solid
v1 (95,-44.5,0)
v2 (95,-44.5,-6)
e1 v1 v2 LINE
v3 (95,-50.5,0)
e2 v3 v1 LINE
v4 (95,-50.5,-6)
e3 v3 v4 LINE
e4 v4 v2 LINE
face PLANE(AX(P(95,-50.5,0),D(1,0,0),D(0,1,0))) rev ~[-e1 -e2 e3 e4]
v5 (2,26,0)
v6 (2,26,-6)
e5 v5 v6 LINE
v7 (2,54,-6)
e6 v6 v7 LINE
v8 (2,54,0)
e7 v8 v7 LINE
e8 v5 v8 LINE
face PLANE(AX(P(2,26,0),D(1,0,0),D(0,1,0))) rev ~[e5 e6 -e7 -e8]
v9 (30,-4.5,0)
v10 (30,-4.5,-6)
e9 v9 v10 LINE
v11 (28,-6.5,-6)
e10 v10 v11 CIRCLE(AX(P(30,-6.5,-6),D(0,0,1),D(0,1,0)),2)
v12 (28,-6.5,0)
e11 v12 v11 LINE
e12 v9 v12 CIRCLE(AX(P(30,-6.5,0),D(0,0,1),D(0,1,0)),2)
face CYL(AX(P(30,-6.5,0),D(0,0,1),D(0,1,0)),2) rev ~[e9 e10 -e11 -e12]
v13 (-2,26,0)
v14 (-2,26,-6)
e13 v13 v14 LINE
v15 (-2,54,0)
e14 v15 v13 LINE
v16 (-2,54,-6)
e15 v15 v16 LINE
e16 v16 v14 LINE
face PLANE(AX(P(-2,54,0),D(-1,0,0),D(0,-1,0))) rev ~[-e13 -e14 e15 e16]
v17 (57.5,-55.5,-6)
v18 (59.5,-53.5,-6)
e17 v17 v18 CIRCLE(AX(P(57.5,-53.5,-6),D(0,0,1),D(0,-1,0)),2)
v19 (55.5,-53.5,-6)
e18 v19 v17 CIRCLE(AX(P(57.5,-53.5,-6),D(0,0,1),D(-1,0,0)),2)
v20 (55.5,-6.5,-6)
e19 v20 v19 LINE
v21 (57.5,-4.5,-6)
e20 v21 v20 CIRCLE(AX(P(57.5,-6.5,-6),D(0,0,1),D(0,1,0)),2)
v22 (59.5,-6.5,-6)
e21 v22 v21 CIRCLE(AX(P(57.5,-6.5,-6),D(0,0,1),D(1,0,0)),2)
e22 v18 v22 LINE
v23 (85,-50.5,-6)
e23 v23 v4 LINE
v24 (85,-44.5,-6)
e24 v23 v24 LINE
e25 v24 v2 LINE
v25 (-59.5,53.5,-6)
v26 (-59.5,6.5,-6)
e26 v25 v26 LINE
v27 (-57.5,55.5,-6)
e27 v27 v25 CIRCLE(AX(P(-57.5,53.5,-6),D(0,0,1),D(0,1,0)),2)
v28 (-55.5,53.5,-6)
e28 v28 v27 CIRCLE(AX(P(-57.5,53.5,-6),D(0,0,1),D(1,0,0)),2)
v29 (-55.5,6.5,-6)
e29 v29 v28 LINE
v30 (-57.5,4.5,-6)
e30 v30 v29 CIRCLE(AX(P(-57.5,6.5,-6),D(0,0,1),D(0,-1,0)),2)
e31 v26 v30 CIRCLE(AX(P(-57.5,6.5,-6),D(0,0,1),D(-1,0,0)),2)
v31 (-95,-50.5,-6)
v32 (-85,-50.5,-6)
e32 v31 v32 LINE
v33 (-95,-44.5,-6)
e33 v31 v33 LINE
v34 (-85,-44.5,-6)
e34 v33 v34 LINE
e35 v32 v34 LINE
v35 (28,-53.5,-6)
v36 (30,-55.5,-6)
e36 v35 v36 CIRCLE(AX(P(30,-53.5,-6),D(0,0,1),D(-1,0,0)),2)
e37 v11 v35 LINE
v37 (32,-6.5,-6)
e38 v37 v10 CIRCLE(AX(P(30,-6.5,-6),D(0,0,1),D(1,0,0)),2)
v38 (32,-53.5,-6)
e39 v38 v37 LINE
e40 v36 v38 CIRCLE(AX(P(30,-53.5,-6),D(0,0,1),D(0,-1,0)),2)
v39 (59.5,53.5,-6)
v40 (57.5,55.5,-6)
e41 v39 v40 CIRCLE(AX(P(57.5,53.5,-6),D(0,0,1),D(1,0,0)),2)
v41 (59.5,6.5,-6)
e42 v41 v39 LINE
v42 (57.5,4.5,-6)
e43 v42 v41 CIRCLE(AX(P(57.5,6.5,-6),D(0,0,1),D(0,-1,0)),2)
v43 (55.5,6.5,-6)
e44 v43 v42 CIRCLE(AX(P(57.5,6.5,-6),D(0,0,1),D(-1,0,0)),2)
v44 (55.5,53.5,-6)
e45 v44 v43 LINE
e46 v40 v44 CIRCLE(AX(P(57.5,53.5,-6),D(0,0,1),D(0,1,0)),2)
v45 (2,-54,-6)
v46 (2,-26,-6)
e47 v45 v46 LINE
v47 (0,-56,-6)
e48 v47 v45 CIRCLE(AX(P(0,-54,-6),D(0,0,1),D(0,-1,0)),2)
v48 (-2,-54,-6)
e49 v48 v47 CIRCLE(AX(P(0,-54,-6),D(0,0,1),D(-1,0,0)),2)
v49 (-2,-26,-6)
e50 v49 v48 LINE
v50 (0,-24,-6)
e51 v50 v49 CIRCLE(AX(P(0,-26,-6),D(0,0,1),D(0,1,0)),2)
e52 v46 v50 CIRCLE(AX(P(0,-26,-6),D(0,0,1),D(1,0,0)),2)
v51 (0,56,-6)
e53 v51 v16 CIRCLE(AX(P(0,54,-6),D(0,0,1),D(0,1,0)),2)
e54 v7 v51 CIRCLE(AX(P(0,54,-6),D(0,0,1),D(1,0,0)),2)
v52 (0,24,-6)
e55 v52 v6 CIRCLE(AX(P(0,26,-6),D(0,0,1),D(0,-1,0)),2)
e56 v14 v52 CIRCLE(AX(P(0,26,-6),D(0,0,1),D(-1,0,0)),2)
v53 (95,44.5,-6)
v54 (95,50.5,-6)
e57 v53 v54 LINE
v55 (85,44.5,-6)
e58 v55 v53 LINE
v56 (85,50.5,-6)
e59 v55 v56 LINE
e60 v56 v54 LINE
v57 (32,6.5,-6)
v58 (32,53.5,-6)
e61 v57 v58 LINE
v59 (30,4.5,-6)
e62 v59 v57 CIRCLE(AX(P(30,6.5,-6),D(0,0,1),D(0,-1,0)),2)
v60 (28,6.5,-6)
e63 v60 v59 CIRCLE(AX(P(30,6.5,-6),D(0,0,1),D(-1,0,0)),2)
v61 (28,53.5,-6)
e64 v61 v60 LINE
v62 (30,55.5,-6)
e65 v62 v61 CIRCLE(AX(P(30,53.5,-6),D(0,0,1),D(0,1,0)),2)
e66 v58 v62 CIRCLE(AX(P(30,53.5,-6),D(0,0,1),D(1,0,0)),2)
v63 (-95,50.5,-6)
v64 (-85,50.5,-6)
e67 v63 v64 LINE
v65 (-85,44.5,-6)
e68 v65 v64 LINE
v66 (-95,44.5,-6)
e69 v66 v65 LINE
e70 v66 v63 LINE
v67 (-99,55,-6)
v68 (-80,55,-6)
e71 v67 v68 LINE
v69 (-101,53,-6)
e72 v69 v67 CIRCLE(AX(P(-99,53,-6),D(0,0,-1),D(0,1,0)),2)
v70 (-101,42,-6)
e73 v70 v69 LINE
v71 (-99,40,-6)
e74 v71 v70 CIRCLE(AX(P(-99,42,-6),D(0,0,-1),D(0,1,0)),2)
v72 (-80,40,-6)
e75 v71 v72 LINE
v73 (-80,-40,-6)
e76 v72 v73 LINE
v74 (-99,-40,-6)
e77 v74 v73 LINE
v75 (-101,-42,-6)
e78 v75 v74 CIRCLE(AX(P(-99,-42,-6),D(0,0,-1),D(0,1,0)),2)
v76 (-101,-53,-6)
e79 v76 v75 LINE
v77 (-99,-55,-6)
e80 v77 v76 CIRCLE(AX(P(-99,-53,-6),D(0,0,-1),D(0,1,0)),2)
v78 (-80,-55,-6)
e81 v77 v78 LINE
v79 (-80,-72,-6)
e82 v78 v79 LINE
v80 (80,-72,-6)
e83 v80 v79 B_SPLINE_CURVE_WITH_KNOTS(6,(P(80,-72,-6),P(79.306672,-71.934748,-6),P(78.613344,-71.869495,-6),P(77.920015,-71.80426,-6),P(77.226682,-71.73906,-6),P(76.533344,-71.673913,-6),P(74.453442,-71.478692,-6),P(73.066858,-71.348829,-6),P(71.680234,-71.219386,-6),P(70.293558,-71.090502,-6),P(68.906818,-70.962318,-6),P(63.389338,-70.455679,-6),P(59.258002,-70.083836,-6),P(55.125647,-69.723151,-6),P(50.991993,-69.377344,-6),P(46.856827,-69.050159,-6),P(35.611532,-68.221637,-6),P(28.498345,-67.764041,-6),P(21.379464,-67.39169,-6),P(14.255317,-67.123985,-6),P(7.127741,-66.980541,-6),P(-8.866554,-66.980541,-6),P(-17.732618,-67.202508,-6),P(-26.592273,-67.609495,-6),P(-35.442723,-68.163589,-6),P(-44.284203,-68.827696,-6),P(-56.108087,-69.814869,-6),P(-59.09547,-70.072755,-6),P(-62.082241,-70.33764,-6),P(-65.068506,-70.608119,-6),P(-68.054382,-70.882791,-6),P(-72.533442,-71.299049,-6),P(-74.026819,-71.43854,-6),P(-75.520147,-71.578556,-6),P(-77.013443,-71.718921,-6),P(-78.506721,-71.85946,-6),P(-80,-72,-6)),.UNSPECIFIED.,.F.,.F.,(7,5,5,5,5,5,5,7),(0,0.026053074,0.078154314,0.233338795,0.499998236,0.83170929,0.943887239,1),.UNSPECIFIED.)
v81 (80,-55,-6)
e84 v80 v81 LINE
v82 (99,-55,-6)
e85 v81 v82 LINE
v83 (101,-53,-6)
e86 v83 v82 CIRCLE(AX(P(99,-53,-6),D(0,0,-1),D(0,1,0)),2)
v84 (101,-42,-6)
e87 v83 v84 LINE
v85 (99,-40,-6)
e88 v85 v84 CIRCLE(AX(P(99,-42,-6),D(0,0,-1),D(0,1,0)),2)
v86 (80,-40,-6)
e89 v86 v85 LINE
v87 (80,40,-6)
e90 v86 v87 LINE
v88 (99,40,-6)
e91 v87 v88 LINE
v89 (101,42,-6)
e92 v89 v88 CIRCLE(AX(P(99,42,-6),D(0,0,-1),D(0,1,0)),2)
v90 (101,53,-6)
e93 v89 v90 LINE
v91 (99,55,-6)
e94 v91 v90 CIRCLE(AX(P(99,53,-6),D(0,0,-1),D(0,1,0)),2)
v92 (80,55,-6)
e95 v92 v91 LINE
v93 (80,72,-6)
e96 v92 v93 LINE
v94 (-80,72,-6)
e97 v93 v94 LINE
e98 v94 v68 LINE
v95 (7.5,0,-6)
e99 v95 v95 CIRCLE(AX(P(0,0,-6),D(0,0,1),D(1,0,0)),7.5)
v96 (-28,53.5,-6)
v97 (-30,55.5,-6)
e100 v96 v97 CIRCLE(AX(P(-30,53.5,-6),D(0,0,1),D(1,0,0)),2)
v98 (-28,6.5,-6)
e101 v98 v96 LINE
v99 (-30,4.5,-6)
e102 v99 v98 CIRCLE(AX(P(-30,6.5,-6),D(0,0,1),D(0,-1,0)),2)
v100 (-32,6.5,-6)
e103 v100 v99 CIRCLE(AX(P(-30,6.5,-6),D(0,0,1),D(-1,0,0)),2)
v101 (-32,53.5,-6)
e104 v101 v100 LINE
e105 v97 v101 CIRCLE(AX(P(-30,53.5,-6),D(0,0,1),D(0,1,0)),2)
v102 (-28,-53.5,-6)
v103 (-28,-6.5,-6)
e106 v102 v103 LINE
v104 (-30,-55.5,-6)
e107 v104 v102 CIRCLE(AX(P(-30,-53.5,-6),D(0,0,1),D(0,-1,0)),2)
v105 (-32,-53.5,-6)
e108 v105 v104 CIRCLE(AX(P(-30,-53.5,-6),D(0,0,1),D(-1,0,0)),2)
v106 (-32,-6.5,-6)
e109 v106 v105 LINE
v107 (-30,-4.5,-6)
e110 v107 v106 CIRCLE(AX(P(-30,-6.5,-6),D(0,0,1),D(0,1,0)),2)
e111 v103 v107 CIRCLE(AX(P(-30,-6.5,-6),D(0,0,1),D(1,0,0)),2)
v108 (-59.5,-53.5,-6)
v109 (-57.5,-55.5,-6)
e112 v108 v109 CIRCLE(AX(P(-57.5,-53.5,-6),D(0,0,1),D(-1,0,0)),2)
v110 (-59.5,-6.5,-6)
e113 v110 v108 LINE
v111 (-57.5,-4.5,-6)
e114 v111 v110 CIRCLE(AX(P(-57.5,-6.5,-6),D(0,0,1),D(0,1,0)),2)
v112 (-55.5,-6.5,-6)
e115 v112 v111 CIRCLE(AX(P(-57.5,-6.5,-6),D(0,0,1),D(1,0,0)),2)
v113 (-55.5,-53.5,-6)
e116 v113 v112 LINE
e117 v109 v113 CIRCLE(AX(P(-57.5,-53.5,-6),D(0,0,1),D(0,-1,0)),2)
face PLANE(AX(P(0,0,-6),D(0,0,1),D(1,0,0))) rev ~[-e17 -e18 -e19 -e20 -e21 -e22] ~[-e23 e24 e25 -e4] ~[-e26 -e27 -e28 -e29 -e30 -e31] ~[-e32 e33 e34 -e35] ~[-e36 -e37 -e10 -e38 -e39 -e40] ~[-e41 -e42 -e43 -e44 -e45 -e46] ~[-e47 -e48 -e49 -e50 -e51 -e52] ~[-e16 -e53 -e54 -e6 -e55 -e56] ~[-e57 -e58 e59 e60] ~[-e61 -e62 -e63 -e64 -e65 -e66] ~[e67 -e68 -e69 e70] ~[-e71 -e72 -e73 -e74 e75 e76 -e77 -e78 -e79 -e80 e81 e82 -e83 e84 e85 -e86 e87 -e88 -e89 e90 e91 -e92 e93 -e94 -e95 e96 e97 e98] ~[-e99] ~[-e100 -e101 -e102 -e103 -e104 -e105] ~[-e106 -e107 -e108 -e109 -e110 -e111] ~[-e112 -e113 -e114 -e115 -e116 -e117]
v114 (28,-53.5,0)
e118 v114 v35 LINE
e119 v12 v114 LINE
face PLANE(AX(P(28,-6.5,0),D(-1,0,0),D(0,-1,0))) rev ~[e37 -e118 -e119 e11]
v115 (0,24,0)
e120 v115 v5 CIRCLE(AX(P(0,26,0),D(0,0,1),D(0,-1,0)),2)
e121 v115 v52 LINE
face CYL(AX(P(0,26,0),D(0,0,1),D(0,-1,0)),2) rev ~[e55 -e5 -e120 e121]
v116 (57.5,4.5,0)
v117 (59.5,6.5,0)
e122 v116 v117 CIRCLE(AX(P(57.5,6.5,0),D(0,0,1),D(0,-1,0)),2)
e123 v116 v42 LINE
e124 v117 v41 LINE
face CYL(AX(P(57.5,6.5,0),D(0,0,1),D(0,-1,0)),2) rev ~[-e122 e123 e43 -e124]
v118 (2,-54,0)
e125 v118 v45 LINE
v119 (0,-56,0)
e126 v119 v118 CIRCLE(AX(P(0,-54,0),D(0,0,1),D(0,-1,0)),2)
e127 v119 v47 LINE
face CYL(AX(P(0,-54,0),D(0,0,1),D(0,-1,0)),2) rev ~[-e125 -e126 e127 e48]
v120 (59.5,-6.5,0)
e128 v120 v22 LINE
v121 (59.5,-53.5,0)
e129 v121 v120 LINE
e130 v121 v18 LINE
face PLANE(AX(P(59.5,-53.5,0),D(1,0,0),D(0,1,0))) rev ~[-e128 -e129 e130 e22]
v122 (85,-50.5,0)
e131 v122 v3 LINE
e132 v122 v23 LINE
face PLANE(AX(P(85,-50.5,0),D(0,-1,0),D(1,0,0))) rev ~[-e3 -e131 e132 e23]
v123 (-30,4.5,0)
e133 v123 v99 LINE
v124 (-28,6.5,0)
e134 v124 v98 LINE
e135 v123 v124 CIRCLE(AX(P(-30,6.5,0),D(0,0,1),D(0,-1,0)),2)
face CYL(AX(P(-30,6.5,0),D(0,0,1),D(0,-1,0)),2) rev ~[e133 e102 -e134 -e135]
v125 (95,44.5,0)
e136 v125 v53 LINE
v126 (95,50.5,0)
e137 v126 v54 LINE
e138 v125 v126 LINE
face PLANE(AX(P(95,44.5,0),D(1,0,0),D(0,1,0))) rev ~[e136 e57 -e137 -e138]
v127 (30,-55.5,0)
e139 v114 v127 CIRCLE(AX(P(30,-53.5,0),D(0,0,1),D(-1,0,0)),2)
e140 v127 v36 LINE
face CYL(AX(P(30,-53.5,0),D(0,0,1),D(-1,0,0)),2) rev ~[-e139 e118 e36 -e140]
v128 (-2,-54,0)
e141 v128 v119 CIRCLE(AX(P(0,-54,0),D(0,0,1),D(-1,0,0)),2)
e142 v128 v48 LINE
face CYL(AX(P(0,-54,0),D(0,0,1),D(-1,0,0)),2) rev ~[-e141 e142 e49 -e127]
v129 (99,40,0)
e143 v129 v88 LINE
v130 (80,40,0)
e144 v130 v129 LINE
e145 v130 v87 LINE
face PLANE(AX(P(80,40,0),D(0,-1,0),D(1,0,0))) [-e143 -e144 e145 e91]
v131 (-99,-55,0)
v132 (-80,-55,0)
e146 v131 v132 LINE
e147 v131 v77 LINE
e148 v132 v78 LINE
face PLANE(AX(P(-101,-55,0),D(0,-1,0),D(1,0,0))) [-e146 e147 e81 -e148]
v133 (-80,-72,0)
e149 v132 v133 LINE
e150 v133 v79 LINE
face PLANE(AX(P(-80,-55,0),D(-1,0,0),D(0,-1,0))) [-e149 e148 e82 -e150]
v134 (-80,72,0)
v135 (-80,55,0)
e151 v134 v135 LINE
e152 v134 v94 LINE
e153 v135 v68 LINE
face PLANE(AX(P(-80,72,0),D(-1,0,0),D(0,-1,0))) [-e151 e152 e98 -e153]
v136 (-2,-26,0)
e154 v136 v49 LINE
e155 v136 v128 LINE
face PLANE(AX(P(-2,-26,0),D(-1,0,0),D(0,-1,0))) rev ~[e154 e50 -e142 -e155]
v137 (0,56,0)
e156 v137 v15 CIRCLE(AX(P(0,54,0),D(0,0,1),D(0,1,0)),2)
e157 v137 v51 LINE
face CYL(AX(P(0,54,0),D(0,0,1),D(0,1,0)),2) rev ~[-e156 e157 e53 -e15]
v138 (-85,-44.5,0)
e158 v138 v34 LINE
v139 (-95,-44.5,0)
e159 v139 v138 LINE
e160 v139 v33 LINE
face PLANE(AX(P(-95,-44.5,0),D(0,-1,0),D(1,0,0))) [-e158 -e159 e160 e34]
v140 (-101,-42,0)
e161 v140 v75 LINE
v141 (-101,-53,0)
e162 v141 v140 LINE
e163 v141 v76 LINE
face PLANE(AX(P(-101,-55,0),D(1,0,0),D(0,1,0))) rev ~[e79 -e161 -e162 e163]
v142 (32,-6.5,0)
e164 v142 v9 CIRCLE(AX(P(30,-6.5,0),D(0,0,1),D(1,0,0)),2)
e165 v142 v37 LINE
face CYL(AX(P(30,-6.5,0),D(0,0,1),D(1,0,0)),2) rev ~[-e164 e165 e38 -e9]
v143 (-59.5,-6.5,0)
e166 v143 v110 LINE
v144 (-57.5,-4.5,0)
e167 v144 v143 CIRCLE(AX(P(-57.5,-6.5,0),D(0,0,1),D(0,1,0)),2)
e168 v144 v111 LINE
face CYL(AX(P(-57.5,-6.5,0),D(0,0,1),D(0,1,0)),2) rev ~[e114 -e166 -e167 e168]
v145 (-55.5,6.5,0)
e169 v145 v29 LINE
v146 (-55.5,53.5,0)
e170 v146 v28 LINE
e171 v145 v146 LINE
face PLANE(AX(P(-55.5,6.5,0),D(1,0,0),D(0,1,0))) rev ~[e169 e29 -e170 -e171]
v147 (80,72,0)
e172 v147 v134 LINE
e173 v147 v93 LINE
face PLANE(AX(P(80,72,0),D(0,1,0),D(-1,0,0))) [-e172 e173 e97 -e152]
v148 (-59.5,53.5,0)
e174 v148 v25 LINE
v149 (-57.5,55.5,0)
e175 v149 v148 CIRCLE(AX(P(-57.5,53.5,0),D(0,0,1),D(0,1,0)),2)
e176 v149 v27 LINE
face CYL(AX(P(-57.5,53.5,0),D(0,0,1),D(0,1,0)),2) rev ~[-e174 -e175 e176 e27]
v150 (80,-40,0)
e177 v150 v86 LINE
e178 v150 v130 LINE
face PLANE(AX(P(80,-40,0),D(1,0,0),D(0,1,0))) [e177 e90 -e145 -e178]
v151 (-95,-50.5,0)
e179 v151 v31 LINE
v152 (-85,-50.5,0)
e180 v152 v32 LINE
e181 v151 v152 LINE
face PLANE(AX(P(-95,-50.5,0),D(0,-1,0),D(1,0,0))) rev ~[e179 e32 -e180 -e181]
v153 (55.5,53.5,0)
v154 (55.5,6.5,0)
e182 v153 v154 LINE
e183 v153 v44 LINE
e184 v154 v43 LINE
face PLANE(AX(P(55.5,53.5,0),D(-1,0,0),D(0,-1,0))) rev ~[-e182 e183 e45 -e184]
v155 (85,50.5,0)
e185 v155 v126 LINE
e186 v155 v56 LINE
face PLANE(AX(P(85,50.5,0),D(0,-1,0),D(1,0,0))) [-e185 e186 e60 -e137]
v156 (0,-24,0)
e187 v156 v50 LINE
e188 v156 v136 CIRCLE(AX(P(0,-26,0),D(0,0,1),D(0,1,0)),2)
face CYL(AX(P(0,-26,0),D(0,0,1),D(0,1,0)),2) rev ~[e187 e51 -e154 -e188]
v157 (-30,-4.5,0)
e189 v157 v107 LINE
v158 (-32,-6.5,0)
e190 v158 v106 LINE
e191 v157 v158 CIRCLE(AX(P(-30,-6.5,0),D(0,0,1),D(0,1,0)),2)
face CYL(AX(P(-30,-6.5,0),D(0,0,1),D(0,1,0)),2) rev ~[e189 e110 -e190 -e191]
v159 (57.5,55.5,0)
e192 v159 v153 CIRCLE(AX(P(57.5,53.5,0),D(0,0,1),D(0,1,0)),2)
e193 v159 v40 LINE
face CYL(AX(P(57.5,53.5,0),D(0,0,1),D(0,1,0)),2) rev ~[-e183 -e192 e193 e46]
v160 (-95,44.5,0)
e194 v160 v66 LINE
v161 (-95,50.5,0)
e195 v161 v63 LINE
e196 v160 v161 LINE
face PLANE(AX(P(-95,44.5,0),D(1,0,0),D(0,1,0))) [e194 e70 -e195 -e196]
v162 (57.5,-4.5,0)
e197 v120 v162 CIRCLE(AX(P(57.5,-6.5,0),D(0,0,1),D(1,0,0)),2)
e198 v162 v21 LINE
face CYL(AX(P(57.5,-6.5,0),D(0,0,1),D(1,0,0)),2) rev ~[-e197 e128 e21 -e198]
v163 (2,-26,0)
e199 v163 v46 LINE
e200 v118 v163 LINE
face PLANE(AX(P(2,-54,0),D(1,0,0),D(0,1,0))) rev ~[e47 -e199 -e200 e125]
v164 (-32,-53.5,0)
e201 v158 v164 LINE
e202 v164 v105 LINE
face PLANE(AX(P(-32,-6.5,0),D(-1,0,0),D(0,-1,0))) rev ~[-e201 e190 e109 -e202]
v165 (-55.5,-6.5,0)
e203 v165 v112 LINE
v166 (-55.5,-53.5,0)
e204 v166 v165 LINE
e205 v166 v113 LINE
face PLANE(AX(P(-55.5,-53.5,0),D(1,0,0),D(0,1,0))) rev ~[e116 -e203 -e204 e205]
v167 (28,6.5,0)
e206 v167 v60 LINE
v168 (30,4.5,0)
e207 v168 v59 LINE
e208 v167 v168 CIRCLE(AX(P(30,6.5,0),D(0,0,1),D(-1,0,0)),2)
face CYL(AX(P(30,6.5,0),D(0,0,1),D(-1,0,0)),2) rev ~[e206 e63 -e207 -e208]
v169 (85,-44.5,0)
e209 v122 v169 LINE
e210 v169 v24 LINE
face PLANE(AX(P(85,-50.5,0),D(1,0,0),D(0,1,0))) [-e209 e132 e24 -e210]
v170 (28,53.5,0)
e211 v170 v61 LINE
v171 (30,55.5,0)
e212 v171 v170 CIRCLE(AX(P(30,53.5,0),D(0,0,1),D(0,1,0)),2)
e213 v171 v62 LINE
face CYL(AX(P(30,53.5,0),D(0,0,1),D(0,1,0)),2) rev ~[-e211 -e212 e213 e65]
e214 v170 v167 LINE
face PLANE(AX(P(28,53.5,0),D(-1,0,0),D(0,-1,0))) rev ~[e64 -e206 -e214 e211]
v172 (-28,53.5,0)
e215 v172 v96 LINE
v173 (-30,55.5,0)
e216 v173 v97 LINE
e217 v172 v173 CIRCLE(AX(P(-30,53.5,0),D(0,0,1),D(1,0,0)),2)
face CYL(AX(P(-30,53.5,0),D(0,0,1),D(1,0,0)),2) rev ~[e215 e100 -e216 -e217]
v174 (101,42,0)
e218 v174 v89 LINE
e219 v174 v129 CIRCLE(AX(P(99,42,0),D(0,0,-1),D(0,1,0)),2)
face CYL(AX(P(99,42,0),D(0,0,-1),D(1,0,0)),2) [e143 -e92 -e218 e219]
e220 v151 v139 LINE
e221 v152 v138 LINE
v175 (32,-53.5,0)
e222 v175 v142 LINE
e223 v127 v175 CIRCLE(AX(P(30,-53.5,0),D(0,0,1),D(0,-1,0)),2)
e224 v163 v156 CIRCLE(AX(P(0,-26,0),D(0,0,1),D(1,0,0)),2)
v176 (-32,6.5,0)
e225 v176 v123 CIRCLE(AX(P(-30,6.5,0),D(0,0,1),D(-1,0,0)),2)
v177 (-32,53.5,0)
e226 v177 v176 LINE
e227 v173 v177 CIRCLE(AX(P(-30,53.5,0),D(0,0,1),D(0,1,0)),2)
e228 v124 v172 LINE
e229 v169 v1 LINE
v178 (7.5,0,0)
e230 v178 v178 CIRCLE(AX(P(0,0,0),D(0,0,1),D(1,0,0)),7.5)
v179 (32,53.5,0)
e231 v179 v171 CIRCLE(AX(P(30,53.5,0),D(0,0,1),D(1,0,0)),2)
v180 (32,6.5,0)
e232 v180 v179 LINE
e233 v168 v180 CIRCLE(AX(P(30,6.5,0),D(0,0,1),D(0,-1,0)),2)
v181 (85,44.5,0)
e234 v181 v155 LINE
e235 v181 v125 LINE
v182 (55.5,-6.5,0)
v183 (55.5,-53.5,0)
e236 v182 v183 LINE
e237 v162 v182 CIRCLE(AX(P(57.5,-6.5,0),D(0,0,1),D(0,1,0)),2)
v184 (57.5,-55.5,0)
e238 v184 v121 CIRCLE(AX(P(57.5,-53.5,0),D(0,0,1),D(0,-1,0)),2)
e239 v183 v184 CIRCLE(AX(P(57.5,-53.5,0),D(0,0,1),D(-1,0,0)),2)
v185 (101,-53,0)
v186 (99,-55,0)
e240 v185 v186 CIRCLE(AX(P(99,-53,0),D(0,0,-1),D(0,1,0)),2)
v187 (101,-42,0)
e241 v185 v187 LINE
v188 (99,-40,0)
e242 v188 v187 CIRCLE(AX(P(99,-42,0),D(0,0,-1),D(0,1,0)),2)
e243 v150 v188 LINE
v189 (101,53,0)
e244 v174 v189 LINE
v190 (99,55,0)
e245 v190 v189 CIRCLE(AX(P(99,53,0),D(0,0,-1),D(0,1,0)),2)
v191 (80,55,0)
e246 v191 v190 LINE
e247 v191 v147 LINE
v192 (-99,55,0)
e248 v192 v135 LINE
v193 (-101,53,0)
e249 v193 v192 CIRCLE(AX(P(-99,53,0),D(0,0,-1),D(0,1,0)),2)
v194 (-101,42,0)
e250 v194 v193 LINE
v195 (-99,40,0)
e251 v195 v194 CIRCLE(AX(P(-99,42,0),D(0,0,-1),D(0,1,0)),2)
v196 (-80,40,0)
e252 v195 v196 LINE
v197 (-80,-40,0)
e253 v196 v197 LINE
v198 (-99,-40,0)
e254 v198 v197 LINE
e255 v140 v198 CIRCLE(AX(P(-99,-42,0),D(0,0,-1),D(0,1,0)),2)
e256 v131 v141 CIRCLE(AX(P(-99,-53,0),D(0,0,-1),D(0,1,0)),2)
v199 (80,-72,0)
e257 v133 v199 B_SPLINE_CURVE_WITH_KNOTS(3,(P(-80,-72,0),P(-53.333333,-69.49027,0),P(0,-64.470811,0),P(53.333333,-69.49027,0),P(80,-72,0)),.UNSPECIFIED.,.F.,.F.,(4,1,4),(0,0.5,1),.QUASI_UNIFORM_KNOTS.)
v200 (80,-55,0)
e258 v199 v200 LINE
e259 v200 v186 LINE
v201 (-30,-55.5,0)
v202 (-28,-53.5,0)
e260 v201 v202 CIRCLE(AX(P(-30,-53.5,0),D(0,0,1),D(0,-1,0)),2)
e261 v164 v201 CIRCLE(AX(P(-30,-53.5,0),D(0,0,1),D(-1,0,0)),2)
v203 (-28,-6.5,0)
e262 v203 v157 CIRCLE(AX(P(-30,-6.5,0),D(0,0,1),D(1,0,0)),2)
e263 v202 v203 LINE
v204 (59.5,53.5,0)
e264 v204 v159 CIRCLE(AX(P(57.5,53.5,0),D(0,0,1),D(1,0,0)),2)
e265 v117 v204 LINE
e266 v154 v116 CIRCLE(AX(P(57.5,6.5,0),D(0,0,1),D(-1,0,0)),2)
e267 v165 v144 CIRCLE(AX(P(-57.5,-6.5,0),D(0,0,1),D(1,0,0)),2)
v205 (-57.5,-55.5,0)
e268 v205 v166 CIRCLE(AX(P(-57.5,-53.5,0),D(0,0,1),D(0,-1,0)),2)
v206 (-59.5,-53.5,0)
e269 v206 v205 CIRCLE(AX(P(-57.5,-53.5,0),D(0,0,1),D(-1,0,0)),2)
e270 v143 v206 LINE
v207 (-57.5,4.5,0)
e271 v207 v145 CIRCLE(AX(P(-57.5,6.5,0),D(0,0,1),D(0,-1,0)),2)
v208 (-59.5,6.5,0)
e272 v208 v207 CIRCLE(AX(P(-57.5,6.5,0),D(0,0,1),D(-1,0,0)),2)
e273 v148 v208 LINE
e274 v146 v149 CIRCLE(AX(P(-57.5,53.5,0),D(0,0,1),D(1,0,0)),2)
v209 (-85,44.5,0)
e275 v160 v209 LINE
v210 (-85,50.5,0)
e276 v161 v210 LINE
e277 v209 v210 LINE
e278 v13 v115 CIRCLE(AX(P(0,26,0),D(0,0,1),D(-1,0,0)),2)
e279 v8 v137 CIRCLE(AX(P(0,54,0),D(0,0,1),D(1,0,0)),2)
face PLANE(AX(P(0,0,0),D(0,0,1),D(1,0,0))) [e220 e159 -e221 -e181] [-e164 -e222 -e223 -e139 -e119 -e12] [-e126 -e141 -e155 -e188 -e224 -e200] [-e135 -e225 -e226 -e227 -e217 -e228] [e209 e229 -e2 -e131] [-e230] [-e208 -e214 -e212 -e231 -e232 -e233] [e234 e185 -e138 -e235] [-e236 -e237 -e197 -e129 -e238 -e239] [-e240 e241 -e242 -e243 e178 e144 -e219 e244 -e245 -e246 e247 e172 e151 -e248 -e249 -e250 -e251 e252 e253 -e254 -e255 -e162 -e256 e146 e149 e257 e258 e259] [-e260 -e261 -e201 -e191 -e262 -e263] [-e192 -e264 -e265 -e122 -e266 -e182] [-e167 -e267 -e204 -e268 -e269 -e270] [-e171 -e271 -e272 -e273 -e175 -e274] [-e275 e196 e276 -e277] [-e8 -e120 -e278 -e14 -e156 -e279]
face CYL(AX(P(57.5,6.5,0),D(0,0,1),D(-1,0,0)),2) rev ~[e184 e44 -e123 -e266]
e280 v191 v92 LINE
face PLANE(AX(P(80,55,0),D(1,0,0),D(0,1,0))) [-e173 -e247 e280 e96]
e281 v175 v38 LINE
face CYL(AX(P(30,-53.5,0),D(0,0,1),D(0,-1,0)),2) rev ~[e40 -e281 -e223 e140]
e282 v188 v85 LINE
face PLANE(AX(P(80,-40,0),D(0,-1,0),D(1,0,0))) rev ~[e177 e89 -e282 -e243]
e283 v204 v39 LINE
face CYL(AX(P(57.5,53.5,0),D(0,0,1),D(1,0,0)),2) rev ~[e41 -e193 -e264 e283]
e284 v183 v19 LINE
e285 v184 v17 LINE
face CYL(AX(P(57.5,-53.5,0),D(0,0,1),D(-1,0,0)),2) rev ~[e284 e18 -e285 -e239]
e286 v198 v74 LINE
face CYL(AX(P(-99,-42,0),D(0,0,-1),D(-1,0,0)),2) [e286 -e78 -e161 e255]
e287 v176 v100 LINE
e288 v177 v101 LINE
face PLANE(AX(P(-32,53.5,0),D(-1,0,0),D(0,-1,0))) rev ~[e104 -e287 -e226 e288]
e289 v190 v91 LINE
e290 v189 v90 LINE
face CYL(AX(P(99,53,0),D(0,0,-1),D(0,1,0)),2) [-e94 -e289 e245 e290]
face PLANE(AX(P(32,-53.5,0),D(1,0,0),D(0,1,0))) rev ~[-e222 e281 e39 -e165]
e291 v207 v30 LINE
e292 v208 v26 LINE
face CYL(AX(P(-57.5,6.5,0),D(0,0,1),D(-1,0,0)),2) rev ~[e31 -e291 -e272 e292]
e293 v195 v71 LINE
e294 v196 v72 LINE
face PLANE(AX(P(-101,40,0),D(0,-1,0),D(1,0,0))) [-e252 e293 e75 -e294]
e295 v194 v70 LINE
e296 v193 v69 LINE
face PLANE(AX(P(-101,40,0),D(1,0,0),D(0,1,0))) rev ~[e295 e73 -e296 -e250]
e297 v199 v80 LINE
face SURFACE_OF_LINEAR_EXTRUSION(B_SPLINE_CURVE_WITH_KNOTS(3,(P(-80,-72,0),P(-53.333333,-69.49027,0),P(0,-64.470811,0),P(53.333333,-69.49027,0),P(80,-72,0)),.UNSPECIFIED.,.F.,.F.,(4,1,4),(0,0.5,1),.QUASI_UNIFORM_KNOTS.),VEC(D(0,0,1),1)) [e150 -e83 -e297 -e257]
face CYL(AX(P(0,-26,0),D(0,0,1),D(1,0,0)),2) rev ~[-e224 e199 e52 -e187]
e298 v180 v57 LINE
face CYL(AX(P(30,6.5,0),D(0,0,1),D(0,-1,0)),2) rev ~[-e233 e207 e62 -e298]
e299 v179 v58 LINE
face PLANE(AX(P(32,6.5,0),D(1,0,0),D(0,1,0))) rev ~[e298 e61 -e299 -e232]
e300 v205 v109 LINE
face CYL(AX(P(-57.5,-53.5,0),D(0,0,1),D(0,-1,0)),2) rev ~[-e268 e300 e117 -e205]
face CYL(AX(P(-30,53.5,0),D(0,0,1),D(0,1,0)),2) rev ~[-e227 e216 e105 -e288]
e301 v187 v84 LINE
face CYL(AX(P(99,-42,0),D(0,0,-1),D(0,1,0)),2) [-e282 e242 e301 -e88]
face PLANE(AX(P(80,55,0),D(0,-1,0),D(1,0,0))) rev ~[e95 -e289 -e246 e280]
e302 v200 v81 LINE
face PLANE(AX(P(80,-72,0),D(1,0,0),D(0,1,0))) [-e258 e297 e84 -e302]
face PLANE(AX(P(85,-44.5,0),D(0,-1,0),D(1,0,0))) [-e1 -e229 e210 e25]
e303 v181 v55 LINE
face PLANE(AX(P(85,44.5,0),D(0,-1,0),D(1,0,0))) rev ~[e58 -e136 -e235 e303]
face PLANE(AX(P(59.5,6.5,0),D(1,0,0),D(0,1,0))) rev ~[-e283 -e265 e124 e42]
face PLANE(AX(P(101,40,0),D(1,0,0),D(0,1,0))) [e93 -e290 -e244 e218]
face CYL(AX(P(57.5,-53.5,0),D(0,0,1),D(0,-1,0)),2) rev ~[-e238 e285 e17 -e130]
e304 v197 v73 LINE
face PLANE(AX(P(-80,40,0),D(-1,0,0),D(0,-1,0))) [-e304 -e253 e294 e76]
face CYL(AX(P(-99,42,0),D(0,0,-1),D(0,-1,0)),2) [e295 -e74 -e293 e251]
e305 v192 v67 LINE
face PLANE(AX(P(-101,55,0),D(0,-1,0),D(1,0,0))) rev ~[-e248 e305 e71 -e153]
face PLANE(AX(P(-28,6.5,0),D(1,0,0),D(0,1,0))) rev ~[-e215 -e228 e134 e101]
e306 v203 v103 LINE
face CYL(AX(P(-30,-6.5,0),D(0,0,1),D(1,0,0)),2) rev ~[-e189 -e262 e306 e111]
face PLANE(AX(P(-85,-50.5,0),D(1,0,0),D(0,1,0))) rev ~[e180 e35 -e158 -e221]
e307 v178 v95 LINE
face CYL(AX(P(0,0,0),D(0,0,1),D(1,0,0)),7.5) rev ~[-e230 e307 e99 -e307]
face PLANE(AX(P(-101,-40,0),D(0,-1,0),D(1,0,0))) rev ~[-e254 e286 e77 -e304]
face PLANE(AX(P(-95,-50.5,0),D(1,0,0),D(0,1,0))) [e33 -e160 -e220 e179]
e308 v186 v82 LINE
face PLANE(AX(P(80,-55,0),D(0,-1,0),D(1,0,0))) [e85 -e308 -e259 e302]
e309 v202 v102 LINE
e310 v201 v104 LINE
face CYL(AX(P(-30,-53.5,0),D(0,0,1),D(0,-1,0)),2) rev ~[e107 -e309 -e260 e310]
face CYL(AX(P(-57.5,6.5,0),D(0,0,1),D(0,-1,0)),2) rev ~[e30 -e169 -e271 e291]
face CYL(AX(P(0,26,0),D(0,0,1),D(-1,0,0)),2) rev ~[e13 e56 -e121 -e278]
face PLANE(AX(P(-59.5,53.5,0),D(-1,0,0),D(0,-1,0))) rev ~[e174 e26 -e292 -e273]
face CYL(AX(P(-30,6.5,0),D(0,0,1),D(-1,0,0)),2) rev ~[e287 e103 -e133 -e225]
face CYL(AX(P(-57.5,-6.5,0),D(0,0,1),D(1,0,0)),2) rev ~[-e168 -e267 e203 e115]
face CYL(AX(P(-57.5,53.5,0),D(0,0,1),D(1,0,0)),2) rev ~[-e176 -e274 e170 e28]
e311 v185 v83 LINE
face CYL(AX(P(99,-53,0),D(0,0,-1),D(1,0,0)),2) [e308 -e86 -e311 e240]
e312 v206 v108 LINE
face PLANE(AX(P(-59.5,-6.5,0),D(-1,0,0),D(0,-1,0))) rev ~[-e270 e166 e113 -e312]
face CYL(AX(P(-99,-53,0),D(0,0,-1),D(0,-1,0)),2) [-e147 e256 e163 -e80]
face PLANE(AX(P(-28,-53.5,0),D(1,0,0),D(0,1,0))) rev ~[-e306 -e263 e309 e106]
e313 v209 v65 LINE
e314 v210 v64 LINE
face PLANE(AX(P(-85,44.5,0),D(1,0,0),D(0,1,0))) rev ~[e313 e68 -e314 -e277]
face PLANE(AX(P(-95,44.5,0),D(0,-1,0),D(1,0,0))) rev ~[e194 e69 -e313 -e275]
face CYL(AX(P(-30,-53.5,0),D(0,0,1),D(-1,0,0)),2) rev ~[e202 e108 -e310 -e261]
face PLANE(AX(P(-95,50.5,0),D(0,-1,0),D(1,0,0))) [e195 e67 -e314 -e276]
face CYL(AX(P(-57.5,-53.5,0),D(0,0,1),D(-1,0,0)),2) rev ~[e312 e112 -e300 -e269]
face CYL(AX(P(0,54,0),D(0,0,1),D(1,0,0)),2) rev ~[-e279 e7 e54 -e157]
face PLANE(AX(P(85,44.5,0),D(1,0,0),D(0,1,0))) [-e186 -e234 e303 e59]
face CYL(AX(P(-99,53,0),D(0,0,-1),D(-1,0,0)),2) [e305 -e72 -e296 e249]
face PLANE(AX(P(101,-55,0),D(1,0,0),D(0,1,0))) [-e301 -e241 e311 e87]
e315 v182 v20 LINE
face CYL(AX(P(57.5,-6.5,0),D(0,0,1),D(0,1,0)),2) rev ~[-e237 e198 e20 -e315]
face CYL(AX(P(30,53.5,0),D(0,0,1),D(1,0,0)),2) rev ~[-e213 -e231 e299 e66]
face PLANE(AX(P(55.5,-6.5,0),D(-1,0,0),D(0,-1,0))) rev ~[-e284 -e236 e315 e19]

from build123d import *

# Parameters (mm, degrees)
F1_W     = 21
F1_H     = 15
F2_DEPTH = 6
F0_R     = 7.5
F3_DEPTH = 25
F5_DEPTH = 25
F6_R     = 2
F7_W     = 10
F7_H     = 6
F8_DEPTH = 25


with BuildPart() as f2:
    # F1 (on Top) → F2 (new body)
    with BuildSketch(Plane.XY):
        Polygon((-80, -72), (80, -72), (80, -55), (80, -40), (80, 40), (80, 55), (80, 72), (-80, 72), (-80, 55), (-80, 40), (-80, -40), (-80, -55), align=None)
        with Locations((90.5, -47.5)):
            Rectangle(F1_W, F1_H)
        with Locations((-90.5, -47.5)):
            Rectangle(F1_W, F1_H)
        with Locations((90.5, 47.5)):
            Rectangle(F1_W, F1_H)
        with Locations((-90.5, 47.5)):
            Rectangle(F1_W, F1_H)
    extrude(amount=-F2_DEPTH)

    # F0 (on Top) → F3 (cut)
    with BuildSketch(Plane.XY):
        with BuildLine():
            ThreePointArc((-57.5, 55.5), (-58.9142135624, 54.9142135624), (-59.5, 53.5))
            Line((-59.5, 53.5), (-59.5, 6.5))
            ThreePointArc((-59.5, 6.5), (-58.9142135624, 5.0857864376), (-57.5, 4.5))
            ThreePointArc((-57.5, 4.5), (-56.0857864376, 5.0857864376), (-55.5, 6.5))
            Line((-55.5, 6.5), (-55.5, 53.5))
            ThreePointArc((-55.5, 53.5), (-56.0857864376, 54.9142135624), (-57.5, 55.5))
        make_face()
        with BuildLine():
            ThreePointArc((-59.5, -53.5), (-58.9142135624, -54.9142135624), (-57.5, -55.5))
            ThreePointArc((-57.5, -55.5), (-56.0857864376, -54.9142135624), (-55.5, -53.5))
            Line((-55.5, -53.5), (-55.5, -6.5))
            ThreePointArc((-55.5, -6.5), (-56.0857864376, -5.0857864376), (-57.5, -4.5))
            ThreePointArc((-57.5, -4.5), (-58.9142135624, -5.0857864376), (-59.5, -6.5))
            Line((-59.5, -6.5), (-59.5, -53.5))
        make_face()
        with BuildLine():
            ThreePointArc((-28, 53.5), (-28.5857864376, 54.9142135624), (-30, 55.5))
            ThreePointArc((-30, 55.5), (-31.4142135624, 54.9142135624), (-32, 53.5))
            Line((-32, 53.5), (-32, 6.5))
            ThreePointArc((-32, 6.5), (-31.4142135624, 5.0857864376), (-30, 4.5))
            ThreePointArc((-30, 4.5), (-28.5857864376, 5.0857864376), (-28, 6.5))
            Line((-28, 6.5), (-28, 53.5))
        make_face()
        with BuildLine():
            ThreePointArc((-28, -6.5), (-28.5857864376, -5.0857864376), (-30, -4.5))
            ThreePointArc((-30, -4.5), (-31.4142135624, -5.0857864376), (-32, -6.5))
            Line((-32, -6.5), (-32, -53.5))
            ThreePointArc((-32, -53.5), (-31.4142135624, -54.9142135624), (-30, -55.5))
            ThreePointArc((-30, -55.5), (-28.5857864376, -54.9142135624), (-28, -53.5))
            Line((-28, -53.5), (-28, -6.5))
        make_face()
        Circle(F0_R)
        with BuildLine():
            ThreePointArc((0, 24), (1.4142135624, 24.5857864376), (2, 26))
            Line((2, 26), (2, 54))
            ThreePointArc((2, 54), (1.4142135624, 55.4142135624), (0, 56))
            ThreePointArc((0, 56), (-1.4142135624, 55.4142135624), (-2, 54))
            Line((-2, 54), (-2, 26))
            ThreePointArc((-2, 26), (-1.4142135624, 24.5857864376), (0, 24))
        make_face()
        with BuildLine():
            Line((2, -54), (2, -26))
            ThreePointArc((2, -26), (1.4142135624, -24.5857864376), (0, -24))
            ThreePointArc((0, -24), (-1.4142135624, -24.5857864376), (-2, -26))
            Line((-2, -26), (-2, -54))
            ThreePointArc((-2, -54), (-1.4142135624, -55.4142135624), (0, -56))
            ThreePointArc((0, -56), (1.4142135624, -55.4142135624), (2, -54))
        make_face()
        with BuildLine():
            Line((28, -6.5), (28, -53.5))
            ThreePointArc((28, -53.5), (28.5857864376, -54.9142135624), (30, -55.5))
            ThreePointArc((30, -55.5), (31.4142135624, -54.9142135624), (32, -53.5))
            Line((32, -53.5), (32, -6.5))
            ThreePointArc((32, -6.5), (31.4142135624, -5.0857864376), (30, -4.5))
            ThreePointArc((30, -4.5), (28.5857864376, -5.0857864376), (28, -6.5))
        make_face()
        with BuildLine():
            ThreePointArc((30, 4.5), (31.4142135624, 5.0857864376), (32, 6.5))
            Line((32, 6.5), (32, 53.5))
            ThreePointArc((32, 53.5), (31.4142135624, 54.9142135624), (30, 55.5))
            ThreePointArc((30, 55.5), (28.5857864376, 54.9142135624), (28, 53.5))
            Line((28, 53.5), (28, 6.5))
            ThreePointArc((28, 6.5), (28.5857864376, 5.0857864376), (30, 4.5))
        make_face()
        with BuildLine():
            ThreePointArc((55.5, 6.5), (56.0857864376, 5.0857864376), (57.5, 4.5))
            ThreePointArc((57.5, 4.5), (58.9142135624, 5.0857864376), (59.5, 6.5))
            Line((59.5, 6.5), (59.5, 53.5))
            ThreePointArc((59.5, 53.5), (58.9142135624, 54.9142135624), (57.5, 55.5))
            ThreePointArc((57.5, 55.5), (56.0857864376, 54.9142135624), (55.5, 53.5))
            Line((55.5, 53.5), (55.5, 6.5))
        make_face()
        with BuildLine():
            ThreePointArc((55.5, -53.5), (56.0857864376, -54.9142135624), (57.5, -55.5))
            ThreePointArc((57.5, -55.5), (58.9142135624, -54.9142135624), (59.5, -53.5))
            Line((59.5, -53.5), (59.5, -6.5))
            ThreePointArc((59.5, -6.5), (58.9142135624, -5.0857864376), (57.5, -4.5))
            ThreePointArc((57.5, -4.5), (56.0857864376, -5.0857864376), (55.5, -6.5))
            Line((55.5, -6.5), (55.5, -53.5))
        make_face()
    extrude(amount=-F3_DEPTH, mode=Mode.SUBTRACT)

    # F4 (on face) → F5 (cut)
    with BuildSketch(Plane.XY):
        with BuildLine():
            add(Edge.make_bspline(
                [(-80, -72), (-53.3333333333, -69.4902703762), (0, -64.4708111286), (53.3333333333, -69.4902703762), (80, -72)],
                knots=[0, 0, 0, 0, 0.5, 1, 1, 1, 1], degree=3))
            Line((-80, -72), (-75.6795704365, -86.1006528139))
            Line((-75.6795704365, -86.1006528139), (77.3649588227, -86.1006528139))
            Line((77.3649588227, -86.1006528139), (80, -72))
        make_face()
    extrude(amount=-F5_DEPTH, mode=Mode.SUBTRACT)

    # F6
    f6_edges = [f2.edges().sort_by_distance(p)[0] for p in [
        (-101, 40, -3),
        (-101, 55, -3),
        (-101, -40, -3),
        (-101, -55, -3),
        (101, -55, -3),
        (101, -40, -3),
        (101, 40, -3),
        (101, 55, -3),
    ]]
    fillet(f6_edges, radius=F6_R)

    # F7 (on face) → F8 (cut)
    with BuildSketch(Plane.XY):
        with Locations((-90, 47.5)):
            Rectangle(F7_W, F7_H)
        with Locations((-90, -47.5)):
            Rectangle(F7_W, F7_H)
        with Locations((90, 47.5)):
            Rectangle(F7_W, F7_H)
        with Locations((90, -47.5)):
            Rectangle(F7_W, F7_H)
    extrude(amount=-F8_DEPTH, mode=Mode.SUBTRACT)


solid = f2.part
